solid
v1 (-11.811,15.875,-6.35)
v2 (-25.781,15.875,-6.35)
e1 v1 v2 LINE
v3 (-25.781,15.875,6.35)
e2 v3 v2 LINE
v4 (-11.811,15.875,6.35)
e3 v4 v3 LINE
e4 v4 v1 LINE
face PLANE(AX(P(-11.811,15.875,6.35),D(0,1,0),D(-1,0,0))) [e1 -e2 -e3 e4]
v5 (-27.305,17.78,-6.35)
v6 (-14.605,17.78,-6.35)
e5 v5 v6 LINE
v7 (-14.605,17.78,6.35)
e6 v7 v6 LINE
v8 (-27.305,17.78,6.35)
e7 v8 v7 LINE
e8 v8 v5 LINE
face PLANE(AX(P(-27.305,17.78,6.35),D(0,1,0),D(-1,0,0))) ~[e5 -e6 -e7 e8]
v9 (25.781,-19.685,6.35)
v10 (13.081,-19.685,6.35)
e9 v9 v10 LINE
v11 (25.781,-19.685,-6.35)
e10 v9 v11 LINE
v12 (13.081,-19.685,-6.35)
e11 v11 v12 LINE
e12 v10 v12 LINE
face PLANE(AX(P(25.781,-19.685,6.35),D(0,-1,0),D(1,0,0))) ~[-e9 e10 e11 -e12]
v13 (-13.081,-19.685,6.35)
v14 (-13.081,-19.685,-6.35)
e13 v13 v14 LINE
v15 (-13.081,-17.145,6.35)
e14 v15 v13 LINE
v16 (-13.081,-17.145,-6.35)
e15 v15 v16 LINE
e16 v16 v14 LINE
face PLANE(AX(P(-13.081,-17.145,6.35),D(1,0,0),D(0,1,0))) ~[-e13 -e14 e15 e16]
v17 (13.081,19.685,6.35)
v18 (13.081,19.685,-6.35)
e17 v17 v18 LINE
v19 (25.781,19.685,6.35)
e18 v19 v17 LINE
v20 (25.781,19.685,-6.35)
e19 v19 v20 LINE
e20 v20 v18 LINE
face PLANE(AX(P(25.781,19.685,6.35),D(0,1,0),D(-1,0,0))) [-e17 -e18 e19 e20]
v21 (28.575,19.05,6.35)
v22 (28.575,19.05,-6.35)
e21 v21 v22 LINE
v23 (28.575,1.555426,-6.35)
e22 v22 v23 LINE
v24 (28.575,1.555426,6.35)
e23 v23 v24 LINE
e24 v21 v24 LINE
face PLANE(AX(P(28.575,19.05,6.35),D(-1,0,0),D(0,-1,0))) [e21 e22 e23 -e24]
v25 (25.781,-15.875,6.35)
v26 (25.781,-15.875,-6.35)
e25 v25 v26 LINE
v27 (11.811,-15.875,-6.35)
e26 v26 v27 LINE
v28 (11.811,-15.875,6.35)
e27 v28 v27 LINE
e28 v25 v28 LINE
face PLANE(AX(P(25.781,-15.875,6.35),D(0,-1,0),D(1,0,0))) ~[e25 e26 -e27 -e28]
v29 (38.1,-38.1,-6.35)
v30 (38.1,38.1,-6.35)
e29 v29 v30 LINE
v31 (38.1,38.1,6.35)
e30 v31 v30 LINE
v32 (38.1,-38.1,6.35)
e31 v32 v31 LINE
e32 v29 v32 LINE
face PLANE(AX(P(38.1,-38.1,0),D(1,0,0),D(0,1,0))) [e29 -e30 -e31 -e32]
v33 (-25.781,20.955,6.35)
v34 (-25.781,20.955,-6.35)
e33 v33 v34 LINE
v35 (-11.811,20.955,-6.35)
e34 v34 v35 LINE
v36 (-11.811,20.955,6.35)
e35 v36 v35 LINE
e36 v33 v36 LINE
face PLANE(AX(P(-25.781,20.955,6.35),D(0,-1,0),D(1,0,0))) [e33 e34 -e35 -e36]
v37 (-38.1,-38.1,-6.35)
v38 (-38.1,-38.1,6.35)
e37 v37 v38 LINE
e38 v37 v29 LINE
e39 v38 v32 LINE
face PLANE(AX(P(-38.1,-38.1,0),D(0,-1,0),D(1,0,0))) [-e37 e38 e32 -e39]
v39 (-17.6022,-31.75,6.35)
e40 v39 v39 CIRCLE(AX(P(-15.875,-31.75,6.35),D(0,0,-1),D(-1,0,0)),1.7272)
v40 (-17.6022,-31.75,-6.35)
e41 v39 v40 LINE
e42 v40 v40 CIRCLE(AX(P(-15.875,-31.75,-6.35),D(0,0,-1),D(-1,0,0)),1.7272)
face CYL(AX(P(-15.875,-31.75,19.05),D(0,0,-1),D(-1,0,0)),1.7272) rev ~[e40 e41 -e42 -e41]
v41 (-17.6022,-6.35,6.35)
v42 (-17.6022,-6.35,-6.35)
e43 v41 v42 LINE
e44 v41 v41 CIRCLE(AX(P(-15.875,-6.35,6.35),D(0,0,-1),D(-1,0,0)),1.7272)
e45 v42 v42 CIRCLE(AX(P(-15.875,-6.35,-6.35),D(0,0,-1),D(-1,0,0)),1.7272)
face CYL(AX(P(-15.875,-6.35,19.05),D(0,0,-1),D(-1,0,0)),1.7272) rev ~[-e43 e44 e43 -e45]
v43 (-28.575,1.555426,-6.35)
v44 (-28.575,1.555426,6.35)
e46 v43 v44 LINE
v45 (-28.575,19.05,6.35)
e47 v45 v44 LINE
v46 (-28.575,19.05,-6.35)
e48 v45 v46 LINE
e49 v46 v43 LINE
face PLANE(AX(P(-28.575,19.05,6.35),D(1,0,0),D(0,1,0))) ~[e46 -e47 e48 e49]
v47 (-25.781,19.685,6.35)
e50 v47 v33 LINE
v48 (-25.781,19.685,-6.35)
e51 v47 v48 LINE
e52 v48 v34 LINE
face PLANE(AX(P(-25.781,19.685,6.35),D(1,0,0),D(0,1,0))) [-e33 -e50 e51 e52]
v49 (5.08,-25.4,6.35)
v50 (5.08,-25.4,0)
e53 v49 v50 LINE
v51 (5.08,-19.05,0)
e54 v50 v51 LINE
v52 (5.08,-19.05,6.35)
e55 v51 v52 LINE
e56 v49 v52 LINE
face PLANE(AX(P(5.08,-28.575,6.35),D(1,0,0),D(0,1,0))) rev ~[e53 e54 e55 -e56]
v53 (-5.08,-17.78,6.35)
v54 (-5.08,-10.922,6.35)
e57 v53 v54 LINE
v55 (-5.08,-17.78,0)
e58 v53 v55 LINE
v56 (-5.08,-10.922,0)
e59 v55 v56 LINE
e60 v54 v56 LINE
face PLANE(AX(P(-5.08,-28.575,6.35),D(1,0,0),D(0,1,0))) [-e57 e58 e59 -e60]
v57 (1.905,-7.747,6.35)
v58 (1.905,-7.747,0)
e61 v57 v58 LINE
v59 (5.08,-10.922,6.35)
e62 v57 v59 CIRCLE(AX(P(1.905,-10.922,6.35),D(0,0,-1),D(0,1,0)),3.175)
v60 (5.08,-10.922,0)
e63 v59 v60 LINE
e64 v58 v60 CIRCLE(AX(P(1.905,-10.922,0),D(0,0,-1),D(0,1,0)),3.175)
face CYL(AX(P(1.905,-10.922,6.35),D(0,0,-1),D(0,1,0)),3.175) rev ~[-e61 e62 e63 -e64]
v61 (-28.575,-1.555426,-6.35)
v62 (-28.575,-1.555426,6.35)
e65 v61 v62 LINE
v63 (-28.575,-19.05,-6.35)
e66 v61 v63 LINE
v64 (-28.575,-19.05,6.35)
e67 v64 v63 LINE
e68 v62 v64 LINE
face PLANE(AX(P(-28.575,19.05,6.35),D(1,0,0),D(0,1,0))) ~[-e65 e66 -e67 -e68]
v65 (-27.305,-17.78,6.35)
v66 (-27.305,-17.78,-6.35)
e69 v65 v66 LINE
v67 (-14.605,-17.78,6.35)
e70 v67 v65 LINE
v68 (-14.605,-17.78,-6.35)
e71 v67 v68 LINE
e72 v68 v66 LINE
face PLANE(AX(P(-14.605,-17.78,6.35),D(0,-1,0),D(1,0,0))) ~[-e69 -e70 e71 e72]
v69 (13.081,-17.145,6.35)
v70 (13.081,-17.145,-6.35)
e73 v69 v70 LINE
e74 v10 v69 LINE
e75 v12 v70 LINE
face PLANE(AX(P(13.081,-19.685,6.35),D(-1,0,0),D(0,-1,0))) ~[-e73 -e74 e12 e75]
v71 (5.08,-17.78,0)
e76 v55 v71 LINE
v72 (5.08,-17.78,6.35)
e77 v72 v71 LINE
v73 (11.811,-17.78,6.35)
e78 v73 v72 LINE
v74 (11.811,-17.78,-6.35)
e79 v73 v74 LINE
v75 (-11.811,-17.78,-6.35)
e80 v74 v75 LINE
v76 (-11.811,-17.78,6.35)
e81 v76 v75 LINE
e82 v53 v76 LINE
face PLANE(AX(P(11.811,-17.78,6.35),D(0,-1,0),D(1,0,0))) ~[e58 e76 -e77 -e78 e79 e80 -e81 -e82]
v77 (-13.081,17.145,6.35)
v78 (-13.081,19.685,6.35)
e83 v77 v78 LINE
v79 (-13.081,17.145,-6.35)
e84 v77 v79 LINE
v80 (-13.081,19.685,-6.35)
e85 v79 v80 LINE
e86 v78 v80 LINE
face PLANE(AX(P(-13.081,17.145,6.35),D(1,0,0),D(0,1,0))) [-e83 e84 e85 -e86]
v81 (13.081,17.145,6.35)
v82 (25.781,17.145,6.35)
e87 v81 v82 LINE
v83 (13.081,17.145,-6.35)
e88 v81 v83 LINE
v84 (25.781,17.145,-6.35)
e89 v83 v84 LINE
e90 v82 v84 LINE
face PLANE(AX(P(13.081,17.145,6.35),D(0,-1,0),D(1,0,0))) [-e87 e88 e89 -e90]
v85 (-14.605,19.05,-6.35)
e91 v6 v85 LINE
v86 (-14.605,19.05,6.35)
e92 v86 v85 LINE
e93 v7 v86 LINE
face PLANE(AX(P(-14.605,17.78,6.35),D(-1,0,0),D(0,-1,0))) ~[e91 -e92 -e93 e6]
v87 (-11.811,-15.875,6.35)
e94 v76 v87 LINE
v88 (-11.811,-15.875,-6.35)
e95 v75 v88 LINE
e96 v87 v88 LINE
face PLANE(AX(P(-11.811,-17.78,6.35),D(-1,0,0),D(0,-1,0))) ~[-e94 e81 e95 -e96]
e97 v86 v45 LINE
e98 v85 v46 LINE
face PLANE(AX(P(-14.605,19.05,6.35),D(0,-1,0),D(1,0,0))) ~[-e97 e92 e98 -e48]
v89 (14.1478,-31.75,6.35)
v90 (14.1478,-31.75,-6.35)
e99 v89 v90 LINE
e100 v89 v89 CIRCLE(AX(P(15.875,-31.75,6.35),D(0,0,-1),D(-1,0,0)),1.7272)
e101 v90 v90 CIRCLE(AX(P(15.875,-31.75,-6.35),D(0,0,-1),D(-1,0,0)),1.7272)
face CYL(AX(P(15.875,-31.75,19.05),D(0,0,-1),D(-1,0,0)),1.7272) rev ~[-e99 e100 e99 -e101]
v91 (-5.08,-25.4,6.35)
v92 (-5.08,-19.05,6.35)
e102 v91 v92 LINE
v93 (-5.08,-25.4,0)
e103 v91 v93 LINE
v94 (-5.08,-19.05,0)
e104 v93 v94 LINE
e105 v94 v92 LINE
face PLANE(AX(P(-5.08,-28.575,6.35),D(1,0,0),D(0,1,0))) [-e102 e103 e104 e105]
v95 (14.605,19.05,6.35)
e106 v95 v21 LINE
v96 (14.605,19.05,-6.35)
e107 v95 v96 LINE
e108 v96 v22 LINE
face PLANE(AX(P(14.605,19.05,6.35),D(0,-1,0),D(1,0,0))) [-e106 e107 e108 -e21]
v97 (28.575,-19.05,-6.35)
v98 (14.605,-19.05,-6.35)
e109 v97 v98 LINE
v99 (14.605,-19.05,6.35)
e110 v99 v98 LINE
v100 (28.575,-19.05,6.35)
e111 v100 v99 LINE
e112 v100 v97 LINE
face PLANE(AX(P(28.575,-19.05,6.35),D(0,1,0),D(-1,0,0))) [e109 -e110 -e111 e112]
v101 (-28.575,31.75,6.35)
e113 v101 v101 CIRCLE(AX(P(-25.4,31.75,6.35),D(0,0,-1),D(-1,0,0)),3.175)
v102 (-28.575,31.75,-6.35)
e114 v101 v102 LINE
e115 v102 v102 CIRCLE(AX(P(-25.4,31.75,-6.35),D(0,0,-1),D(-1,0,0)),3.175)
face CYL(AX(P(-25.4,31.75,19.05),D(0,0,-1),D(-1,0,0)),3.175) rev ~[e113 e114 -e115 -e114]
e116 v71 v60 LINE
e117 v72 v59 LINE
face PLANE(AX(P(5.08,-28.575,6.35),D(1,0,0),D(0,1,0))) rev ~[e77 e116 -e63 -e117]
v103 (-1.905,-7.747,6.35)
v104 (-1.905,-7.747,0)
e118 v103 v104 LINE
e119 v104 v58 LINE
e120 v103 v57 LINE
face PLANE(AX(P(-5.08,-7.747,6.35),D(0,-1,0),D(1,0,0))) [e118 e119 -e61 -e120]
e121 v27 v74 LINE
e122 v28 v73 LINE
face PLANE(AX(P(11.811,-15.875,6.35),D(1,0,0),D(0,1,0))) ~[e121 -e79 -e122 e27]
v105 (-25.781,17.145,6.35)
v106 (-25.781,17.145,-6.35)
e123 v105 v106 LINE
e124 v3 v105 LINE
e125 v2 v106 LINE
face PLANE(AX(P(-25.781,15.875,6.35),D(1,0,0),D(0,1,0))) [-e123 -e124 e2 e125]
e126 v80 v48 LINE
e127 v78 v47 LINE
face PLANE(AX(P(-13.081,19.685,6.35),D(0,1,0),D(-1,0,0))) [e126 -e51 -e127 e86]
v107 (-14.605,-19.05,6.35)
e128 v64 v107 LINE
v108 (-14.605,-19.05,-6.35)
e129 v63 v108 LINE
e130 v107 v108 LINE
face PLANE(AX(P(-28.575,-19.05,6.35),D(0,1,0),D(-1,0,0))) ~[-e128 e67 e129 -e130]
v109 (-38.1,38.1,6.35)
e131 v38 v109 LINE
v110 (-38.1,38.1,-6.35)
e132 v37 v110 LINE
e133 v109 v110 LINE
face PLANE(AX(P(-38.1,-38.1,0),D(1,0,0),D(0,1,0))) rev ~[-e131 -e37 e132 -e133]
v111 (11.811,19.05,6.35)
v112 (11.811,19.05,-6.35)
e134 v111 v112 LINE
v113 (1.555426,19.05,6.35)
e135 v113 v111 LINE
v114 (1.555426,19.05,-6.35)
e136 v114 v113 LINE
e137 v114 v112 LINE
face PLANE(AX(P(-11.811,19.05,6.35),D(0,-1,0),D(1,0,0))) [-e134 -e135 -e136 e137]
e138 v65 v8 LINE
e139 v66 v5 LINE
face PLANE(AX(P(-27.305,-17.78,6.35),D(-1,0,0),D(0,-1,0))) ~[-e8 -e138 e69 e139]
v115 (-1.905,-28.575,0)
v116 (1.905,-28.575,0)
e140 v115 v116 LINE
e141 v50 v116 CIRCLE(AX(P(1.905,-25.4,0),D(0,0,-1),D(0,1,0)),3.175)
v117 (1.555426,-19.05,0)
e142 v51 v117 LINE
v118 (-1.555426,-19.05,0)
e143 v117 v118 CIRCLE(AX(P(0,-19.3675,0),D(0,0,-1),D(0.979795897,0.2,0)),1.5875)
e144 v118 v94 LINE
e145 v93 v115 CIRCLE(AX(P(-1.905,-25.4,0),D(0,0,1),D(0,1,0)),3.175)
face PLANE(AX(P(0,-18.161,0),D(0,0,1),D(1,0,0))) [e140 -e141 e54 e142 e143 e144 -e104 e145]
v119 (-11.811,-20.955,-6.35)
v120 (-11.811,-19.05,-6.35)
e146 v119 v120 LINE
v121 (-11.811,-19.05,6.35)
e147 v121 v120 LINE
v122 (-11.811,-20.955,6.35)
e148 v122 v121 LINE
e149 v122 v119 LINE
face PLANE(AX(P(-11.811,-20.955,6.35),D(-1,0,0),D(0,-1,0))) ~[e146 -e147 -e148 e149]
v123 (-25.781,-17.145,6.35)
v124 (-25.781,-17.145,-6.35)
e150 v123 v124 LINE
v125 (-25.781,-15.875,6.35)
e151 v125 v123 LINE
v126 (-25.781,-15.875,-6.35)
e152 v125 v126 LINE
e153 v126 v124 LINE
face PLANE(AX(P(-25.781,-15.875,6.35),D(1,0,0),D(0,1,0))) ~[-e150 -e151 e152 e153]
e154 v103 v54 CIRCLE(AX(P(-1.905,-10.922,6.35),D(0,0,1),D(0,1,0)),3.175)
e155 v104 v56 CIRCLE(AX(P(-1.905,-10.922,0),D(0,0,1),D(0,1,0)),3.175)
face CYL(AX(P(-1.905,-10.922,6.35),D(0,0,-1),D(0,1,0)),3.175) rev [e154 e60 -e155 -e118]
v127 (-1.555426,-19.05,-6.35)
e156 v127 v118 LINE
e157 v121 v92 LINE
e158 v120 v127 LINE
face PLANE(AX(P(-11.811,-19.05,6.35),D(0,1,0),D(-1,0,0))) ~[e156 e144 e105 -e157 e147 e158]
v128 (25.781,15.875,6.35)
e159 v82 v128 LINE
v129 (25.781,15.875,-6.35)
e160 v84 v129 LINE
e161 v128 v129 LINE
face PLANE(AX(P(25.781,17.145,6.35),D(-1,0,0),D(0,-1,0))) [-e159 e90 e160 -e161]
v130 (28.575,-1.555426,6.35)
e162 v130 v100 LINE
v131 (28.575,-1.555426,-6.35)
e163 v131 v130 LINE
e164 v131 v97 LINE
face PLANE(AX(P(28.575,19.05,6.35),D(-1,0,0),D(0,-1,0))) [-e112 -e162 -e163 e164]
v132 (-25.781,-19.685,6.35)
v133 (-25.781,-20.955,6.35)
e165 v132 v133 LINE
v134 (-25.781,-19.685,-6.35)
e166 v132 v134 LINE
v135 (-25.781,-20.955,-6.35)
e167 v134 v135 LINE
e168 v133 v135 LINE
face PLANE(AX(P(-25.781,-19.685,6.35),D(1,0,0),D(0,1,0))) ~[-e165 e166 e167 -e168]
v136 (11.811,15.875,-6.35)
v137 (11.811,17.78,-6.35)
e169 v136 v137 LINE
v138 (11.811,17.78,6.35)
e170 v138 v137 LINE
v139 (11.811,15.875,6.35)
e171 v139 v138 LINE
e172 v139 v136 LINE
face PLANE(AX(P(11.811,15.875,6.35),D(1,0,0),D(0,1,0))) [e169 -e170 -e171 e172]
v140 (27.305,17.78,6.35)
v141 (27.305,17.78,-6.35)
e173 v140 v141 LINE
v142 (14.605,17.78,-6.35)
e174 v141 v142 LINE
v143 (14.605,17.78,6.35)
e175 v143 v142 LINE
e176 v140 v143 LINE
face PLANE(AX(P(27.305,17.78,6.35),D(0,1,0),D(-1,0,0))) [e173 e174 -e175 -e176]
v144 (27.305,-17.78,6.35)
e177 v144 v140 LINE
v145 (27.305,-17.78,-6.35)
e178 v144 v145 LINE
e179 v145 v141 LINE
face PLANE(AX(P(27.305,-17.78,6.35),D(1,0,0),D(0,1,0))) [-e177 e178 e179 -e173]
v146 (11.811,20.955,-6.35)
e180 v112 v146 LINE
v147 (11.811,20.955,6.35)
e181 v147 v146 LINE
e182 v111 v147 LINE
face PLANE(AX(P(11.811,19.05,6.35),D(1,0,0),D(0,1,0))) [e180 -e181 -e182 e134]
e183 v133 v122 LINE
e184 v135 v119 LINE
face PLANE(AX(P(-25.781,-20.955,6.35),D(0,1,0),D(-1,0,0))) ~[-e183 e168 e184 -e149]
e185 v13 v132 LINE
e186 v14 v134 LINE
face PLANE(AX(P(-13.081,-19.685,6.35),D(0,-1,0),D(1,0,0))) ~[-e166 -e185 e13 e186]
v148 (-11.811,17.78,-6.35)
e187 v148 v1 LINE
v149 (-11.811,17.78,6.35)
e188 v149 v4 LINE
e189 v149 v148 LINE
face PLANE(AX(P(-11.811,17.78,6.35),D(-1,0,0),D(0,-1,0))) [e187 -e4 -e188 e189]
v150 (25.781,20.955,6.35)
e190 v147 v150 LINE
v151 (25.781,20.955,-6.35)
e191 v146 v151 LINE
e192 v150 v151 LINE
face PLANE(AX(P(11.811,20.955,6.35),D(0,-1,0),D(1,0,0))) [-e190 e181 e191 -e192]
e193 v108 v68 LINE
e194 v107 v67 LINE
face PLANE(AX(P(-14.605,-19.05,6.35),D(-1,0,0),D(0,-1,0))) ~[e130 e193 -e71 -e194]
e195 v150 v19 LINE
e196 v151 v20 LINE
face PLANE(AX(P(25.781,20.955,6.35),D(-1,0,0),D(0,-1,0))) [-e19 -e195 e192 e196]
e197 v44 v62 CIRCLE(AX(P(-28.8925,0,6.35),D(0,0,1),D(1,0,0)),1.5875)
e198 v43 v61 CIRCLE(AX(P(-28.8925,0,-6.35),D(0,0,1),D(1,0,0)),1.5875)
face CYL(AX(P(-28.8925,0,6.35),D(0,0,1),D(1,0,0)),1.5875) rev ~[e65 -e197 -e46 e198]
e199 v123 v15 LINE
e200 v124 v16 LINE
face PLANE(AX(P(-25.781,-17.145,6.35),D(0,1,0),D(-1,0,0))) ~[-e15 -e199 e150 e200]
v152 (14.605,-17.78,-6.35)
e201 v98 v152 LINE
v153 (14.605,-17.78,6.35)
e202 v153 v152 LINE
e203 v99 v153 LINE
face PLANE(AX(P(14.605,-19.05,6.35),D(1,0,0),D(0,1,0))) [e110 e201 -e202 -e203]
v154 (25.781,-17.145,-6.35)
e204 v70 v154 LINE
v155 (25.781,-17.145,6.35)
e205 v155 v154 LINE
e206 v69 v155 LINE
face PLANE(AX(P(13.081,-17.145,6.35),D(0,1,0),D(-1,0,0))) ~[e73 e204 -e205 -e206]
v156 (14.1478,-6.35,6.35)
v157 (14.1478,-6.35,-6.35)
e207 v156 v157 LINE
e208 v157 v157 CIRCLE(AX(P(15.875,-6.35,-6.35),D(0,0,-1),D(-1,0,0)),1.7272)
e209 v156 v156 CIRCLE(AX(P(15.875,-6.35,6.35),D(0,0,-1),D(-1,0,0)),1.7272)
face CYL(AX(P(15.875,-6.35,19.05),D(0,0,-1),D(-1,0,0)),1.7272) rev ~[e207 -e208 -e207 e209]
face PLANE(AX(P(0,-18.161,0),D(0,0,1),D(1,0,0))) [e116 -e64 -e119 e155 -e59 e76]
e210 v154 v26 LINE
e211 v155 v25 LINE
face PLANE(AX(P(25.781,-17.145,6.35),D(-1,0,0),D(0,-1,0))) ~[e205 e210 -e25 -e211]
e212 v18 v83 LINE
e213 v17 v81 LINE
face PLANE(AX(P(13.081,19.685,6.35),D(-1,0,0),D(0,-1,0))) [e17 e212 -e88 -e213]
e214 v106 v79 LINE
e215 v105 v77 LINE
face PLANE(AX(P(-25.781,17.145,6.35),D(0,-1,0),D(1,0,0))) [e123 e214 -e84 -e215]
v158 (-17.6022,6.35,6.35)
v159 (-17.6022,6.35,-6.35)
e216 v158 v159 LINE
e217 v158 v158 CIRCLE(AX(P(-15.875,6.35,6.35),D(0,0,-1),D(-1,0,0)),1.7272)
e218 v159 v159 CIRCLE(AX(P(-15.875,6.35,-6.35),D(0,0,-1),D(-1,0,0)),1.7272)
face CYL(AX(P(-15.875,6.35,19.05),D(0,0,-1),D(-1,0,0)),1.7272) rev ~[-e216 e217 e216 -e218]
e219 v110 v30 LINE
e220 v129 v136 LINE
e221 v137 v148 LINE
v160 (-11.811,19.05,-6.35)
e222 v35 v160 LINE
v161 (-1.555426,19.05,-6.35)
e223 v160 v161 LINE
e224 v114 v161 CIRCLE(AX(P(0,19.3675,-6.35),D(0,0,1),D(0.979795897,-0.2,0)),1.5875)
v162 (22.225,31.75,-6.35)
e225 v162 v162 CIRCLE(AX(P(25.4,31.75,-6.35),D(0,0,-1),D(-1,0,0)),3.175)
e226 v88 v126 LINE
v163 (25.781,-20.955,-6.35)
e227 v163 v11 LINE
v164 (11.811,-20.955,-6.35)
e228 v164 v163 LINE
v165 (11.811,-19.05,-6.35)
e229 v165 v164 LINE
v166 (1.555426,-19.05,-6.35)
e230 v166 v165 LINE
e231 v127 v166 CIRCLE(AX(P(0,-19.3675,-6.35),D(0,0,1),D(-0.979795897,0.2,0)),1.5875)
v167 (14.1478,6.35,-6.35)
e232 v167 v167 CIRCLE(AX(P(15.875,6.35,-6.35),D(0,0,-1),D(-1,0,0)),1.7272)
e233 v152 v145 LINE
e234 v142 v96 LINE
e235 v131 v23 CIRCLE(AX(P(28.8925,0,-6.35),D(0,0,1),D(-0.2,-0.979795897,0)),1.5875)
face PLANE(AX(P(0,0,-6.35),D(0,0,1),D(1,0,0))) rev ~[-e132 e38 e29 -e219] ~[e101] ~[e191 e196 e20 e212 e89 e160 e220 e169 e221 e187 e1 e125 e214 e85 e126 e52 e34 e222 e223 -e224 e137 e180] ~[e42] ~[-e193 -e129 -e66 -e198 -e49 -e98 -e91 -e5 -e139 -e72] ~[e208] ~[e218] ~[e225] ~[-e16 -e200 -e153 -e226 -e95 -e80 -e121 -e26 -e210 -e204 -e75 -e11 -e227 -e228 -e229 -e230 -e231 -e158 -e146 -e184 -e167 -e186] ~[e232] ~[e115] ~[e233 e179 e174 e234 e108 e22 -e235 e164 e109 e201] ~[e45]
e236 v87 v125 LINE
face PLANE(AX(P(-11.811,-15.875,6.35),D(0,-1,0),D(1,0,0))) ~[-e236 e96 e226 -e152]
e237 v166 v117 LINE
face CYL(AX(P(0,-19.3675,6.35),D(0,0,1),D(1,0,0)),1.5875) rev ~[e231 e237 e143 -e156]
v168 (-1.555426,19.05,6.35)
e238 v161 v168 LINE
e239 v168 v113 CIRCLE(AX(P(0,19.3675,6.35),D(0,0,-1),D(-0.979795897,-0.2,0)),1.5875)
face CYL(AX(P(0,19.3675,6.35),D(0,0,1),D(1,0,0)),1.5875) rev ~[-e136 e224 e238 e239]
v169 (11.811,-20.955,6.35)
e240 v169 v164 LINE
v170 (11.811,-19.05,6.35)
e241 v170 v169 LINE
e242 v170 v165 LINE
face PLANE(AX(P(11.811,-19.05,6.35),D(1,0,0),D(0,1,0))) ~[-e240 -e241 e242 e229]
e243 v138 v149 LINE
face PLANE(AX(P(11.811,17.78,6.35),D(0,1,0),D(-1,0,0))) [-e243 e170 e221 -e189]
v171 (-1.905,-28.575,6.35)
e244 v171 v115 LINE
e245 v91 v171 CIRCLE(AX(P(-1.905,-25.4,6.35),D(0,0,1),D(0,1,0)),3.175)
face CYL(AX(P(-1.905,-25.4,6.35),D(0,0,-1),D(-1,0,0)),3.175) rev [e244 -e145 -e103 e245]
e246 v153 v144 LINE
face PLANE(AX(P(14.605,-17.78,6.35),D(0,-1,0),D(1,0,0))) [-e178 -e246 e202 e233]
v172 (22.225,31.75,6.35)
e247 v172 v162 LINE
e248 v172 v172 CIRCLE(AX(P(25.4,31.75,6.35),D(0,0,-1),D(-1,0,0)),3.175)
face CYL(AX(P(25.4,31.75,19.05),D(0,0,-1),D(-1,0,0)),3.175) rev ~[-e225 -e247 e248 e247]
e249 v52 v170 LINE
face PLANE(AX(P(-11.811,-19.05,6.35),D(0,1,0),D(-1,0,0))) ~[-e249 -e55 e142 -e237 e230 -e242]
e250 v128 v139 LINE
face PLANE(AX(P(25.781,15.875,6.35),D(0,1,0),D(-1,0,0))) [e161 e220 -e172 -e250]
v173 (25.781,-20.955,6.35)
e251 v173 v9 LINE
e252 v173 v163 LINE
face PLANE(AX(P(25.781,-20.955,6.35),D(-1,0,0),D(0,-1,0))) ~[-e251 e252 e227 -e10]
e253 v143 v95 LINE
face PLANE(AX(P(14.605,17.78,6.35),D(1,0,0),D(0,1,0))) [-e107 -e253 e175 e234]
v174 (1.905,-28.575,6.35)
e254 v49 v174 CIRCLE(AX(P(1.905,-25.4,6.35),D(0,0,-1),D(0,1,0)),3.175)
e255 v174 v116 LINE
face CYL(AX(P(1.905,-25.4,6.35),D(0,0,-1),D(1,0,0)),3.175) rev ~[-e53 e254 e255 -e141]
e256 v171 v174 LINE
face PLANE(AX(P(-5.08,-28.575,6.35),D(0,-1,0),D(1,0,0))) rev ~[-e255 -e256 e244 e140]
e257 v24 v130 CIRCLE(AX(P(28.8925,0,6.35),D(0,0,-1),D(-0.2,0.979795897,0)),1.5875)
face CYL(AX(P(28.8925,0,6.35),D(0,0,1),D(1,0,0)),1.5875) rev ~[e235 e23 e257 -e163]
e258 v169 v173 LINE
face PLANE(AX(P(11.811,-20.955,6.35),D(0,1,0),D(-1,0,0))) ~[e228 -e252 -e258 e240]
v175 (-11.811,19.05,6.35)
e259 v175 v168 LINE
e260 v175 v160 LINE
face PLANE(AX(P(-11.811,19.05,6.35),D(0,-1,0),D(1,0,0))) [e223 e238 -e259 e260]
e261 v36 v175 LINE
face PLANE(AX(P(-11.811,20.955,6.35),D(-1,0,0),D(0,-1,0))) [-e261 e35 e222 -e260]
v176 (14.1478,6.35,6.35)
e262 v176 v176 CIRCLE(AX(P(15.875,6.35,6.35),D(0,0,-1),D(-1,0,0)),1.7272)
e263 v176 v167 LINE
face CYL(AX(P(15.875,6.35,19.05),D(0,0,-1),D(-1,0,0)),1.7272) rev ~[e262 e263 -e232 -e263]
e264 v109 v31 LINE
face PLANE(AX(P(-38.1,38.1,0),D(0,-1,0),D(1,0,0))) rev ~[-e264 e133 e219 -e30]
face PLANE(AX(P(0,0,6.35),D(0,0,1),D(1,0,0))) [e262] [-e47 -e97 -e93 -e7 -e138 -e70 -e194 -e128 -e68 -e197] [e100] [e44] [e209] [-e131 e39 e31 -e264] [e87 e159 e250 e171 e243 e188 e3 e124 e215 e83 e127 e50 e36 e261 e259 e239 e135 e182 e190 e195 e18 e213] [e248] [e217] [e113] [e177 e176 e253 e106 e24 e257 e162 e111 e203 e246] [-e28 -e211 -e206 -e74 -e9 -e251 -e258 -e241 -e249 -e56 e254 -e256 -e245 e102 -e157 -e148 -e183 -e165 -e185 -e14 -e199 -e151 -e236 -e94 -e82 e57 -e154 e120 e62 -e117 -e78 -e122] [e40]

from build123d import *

# Parameters (mm, degrees)
SKETCH1_W                       = 76.2
SKETCH1_H                       = 76.2
BOSS_EXTRUDE1_DEPTH             = 6.35
CUT_EXTRUDE1_DEPTH              = 12.7
CUT_EXTRUDE2_DEPTH              = 12.7
F_1_4_0_25_DIAMETER_HOLE1_D     = 6.35
F_1_4_0_25_DIAMETER_HOLE1_DEPTH = 12.7
F_8_32_TAPPED_HOLE1_D           = 3.4544
F_8_32_TAPPED_HOLE1_DEPTH       = 12.7
SKETCH8_W                       = 10.16
SKETCH8_H                       = 20.828
CUT_EXTRUDE3_DEPTH              = 6.35
FILLET1_R                       = 3.175
FILLET2_R                       = 3.175
FILLET3_R                       = 3.175
FILLET4_R                       = 3.175
CUT_EXTRUDE6_REACH              = 14.7
SKETCH11_R                      = 1.5875


with BuildPart() as part:
    # Sketch1 → Boss-Extrude1 (new body, symmetric)
    with BuildSketch(Plane.XY):
        Rectangle(SKETCH1_W, SKETCH1_H)
    extrude(amount=BOSS_EXTRUDE1_DEPTH, both=True)

    # Sketch2 → Cut-Extrude1 (cut)
    with BuildSketch(Plane.XY.offset(6.35)):
        Polygon((14.605, 19.05), (28.575, 19.05), (28.575, -19.05), (14.605, -19.05), (14.605, -17.78), (27.305, -17.78), (27.305, 17.78), (14.605, 17.78), align=None)
    cut_extrude1 = extrude(amount=-CUT_EXTRUDE1_DEPTH, mode=Mode.SUBTRACT)

    # Mirror1: Cut-Extrude1 across plane
    add(cut_extrude1.mirror(Plane(origin=(0, 0, 0), x_dir=(0, 0, 1), z_dir=(1, 0, 0))), mode=Mode.SUBTRACT)

    # Sketch3 → Cut-Extrude2 (cut)
    with BuildSketch(Plane.XY.offset(6.35)):
        Polygon((25.781, 17.145), (25.781, 15.875), (11.811, 15.875), (11.811, 17.78), (-11.811, 17.78), (-11.811, 15.875), (-25.781, 15.875), (-25.781, 17.145), (-13.081, 17.145), (-13.081, 19.685), (-25.781, 19.685), (-25.781, 20.955), (-11.811, 20.955), (-11.811, 19.05), (11.811, 19.05), (11.811, 20.955), (25.781, 20.955), (25.781, 19.685), (13.081, 19.685), (13.081, 17.145), align=None)
    cut_extrude2 = extrude(amount=-CUT_EXTRUDE2_DEPTH, mode=Mode.SUBTRACT)

    # Mirror2: Cut-Extrude2 across plane
    add(cut_extrude2.mirror(Plane.ZX), mode=Mode.SUBTRACT)

    # 1/4 (0.25) Diameter Hole1
    with Locations(Plane.XY.offset(6.35)):
        with Locations((-25.4, 31.75), (25.4, 31.75)):
            Hole(F_1_4_0_25_DIAMETER_HOLE1_D / 2, depth=F_1_4_0_25_DIAMETER_HOLE1_DEPTH)

    # #8-32 Tapped Hole1
    with Locations(Plane.XY.offset(6.35)):
        with Locations((-15.875, 6.35), (15.875, 6.35), (15.875, -6.35), (-15.875, -6.35), (-15.875, -31.75), (15.875, -31.75)):
            Hole(F_8_32_TAPPED_HOLE1_D / 2, depth=F_8_32_TAPPED_HOLE1_DEPTH)

    # Sketch8 → Cut-Extrude3 (cut)
    with BuildSketch(Plane.XY.offset(6.35)):
        with Locations((0, -18.161)):
            Rectangle(SKETCH8_W, SKETCH8_H)
    extrude(amount=-CUT_EXTRUDE3_DEPTH, mode=Mode.SUBTRACT)

    # Fillet1
    fillet1_edges = [part.edges().sort_by_distance(p)[0] for p in [
        (-5.08, -7.747, 3.175),
    ]]
    fillet(fillet1_edges, radius=FILLET1_R)

    # Fillet2
    fillet2_edges = [part.edges().sort_by_distance(p)[0] for p in [
        (-5.08, -28.575, 3.175),
    ]]
    fillet(fillet2_edges, radius=FILLET2_R)

    # Fillet3
    fillet3_edges = [part.edges().sort_by_distance(p)[0] for p in [
        (5.08, -7.747, 3.175),
    ]]
    fillet(fillet3_edges, radius=FILLET3_R)

    # Fillet4
    fillet4_edges = [part.edges().sort_by_distance(p)[0] for p in [
        (5.08, -28.575, 3.175),
    ]]
    fillet(fillet4_edges, radius=FILLET4_R)

    # Sketch11 → Cut-Extrude6 (cut, up to next)
    with BuildSketch(Plane.XY.offset(6.35), mode=Mode.PRIVATE) as cut_extrude6_sk1:
        with Locations((0, 19.3675)):
            Circle(SKETCH11_R)
    cut_extrude6_tool1 = extrude(cut_extrude6_sk1.sketch, amount=-CUT_EXTRUDE6_REACH, mode=Mode.PRIVATE) & part.part
    add(cut_extrude6_tool1.solids().sort_by_distance((0, 19.3675, 6.35))[0], mode=Mode.SUBTRACT)
    # Sketch11 → Cut-Extrude6 (cut, up to next)
    with BuildSketch(Plane.XY.offset(6.35), mode=Mode.PRIVATE) as cut_extrude6_sk2:
        with Locations((28.8925, 0)):
            Circle(SKETCH11_R)
    cut_extrude6_tool2 = extrude(cut_extrude6_sk2.sketch, amount=-CUT_EXTRUDE6_REACH, mode=Mode.PRIVATE) & part.part
    add(cut_extrude6_tool2.solids().sort_by_distance((28.8925, 0, 6.35))[0], mode=Mode.SUBTRACT)
    # Sketch11 → Cut-Extrude6 (cut, up to next)
    with BuildSketch(Plane.XY.offset(6.35), mode=Mode.PRIVATE) as cut_extrude6_sk3:
        with Locations((0, -19.3675)):
            Circle(SKETCH11_R)
    cut_extrude6_tool3 = extrude(cut_extrude6_sk3.sketch, amount=-CUT_EXTRUDE6_REACH, mode=Mode.PRIVATE) & part.part
    add(cut_extrude6_tool3.solids().sort_by_distance((0, -19.3675, 6.35))[0], mode=Mode.SUBTRACT)
    # Sketch11 → Cut-Extrude6 (cut, up to next)
    with BuildSketch(Plane.XY.offset(6.35), mode=Mode.PRIVATE) as cut_extrude6_sk4:
        with Locations((-28.8925, 0)):
            Circle(SKETCH11_R)
    cut_extrude6_tool4 = extrude(cut_extrude6_sk4.sketch, amount=-CUT_EXTRUDE6_REACH, mode=Mode.PRIVATE) & part.part
    add(cut_extrude6_tool4.solids().sort_by_distance((-28.8925, 0, 6.35))[0], mode=Mode.SUBTRACT)


solid = part.part
